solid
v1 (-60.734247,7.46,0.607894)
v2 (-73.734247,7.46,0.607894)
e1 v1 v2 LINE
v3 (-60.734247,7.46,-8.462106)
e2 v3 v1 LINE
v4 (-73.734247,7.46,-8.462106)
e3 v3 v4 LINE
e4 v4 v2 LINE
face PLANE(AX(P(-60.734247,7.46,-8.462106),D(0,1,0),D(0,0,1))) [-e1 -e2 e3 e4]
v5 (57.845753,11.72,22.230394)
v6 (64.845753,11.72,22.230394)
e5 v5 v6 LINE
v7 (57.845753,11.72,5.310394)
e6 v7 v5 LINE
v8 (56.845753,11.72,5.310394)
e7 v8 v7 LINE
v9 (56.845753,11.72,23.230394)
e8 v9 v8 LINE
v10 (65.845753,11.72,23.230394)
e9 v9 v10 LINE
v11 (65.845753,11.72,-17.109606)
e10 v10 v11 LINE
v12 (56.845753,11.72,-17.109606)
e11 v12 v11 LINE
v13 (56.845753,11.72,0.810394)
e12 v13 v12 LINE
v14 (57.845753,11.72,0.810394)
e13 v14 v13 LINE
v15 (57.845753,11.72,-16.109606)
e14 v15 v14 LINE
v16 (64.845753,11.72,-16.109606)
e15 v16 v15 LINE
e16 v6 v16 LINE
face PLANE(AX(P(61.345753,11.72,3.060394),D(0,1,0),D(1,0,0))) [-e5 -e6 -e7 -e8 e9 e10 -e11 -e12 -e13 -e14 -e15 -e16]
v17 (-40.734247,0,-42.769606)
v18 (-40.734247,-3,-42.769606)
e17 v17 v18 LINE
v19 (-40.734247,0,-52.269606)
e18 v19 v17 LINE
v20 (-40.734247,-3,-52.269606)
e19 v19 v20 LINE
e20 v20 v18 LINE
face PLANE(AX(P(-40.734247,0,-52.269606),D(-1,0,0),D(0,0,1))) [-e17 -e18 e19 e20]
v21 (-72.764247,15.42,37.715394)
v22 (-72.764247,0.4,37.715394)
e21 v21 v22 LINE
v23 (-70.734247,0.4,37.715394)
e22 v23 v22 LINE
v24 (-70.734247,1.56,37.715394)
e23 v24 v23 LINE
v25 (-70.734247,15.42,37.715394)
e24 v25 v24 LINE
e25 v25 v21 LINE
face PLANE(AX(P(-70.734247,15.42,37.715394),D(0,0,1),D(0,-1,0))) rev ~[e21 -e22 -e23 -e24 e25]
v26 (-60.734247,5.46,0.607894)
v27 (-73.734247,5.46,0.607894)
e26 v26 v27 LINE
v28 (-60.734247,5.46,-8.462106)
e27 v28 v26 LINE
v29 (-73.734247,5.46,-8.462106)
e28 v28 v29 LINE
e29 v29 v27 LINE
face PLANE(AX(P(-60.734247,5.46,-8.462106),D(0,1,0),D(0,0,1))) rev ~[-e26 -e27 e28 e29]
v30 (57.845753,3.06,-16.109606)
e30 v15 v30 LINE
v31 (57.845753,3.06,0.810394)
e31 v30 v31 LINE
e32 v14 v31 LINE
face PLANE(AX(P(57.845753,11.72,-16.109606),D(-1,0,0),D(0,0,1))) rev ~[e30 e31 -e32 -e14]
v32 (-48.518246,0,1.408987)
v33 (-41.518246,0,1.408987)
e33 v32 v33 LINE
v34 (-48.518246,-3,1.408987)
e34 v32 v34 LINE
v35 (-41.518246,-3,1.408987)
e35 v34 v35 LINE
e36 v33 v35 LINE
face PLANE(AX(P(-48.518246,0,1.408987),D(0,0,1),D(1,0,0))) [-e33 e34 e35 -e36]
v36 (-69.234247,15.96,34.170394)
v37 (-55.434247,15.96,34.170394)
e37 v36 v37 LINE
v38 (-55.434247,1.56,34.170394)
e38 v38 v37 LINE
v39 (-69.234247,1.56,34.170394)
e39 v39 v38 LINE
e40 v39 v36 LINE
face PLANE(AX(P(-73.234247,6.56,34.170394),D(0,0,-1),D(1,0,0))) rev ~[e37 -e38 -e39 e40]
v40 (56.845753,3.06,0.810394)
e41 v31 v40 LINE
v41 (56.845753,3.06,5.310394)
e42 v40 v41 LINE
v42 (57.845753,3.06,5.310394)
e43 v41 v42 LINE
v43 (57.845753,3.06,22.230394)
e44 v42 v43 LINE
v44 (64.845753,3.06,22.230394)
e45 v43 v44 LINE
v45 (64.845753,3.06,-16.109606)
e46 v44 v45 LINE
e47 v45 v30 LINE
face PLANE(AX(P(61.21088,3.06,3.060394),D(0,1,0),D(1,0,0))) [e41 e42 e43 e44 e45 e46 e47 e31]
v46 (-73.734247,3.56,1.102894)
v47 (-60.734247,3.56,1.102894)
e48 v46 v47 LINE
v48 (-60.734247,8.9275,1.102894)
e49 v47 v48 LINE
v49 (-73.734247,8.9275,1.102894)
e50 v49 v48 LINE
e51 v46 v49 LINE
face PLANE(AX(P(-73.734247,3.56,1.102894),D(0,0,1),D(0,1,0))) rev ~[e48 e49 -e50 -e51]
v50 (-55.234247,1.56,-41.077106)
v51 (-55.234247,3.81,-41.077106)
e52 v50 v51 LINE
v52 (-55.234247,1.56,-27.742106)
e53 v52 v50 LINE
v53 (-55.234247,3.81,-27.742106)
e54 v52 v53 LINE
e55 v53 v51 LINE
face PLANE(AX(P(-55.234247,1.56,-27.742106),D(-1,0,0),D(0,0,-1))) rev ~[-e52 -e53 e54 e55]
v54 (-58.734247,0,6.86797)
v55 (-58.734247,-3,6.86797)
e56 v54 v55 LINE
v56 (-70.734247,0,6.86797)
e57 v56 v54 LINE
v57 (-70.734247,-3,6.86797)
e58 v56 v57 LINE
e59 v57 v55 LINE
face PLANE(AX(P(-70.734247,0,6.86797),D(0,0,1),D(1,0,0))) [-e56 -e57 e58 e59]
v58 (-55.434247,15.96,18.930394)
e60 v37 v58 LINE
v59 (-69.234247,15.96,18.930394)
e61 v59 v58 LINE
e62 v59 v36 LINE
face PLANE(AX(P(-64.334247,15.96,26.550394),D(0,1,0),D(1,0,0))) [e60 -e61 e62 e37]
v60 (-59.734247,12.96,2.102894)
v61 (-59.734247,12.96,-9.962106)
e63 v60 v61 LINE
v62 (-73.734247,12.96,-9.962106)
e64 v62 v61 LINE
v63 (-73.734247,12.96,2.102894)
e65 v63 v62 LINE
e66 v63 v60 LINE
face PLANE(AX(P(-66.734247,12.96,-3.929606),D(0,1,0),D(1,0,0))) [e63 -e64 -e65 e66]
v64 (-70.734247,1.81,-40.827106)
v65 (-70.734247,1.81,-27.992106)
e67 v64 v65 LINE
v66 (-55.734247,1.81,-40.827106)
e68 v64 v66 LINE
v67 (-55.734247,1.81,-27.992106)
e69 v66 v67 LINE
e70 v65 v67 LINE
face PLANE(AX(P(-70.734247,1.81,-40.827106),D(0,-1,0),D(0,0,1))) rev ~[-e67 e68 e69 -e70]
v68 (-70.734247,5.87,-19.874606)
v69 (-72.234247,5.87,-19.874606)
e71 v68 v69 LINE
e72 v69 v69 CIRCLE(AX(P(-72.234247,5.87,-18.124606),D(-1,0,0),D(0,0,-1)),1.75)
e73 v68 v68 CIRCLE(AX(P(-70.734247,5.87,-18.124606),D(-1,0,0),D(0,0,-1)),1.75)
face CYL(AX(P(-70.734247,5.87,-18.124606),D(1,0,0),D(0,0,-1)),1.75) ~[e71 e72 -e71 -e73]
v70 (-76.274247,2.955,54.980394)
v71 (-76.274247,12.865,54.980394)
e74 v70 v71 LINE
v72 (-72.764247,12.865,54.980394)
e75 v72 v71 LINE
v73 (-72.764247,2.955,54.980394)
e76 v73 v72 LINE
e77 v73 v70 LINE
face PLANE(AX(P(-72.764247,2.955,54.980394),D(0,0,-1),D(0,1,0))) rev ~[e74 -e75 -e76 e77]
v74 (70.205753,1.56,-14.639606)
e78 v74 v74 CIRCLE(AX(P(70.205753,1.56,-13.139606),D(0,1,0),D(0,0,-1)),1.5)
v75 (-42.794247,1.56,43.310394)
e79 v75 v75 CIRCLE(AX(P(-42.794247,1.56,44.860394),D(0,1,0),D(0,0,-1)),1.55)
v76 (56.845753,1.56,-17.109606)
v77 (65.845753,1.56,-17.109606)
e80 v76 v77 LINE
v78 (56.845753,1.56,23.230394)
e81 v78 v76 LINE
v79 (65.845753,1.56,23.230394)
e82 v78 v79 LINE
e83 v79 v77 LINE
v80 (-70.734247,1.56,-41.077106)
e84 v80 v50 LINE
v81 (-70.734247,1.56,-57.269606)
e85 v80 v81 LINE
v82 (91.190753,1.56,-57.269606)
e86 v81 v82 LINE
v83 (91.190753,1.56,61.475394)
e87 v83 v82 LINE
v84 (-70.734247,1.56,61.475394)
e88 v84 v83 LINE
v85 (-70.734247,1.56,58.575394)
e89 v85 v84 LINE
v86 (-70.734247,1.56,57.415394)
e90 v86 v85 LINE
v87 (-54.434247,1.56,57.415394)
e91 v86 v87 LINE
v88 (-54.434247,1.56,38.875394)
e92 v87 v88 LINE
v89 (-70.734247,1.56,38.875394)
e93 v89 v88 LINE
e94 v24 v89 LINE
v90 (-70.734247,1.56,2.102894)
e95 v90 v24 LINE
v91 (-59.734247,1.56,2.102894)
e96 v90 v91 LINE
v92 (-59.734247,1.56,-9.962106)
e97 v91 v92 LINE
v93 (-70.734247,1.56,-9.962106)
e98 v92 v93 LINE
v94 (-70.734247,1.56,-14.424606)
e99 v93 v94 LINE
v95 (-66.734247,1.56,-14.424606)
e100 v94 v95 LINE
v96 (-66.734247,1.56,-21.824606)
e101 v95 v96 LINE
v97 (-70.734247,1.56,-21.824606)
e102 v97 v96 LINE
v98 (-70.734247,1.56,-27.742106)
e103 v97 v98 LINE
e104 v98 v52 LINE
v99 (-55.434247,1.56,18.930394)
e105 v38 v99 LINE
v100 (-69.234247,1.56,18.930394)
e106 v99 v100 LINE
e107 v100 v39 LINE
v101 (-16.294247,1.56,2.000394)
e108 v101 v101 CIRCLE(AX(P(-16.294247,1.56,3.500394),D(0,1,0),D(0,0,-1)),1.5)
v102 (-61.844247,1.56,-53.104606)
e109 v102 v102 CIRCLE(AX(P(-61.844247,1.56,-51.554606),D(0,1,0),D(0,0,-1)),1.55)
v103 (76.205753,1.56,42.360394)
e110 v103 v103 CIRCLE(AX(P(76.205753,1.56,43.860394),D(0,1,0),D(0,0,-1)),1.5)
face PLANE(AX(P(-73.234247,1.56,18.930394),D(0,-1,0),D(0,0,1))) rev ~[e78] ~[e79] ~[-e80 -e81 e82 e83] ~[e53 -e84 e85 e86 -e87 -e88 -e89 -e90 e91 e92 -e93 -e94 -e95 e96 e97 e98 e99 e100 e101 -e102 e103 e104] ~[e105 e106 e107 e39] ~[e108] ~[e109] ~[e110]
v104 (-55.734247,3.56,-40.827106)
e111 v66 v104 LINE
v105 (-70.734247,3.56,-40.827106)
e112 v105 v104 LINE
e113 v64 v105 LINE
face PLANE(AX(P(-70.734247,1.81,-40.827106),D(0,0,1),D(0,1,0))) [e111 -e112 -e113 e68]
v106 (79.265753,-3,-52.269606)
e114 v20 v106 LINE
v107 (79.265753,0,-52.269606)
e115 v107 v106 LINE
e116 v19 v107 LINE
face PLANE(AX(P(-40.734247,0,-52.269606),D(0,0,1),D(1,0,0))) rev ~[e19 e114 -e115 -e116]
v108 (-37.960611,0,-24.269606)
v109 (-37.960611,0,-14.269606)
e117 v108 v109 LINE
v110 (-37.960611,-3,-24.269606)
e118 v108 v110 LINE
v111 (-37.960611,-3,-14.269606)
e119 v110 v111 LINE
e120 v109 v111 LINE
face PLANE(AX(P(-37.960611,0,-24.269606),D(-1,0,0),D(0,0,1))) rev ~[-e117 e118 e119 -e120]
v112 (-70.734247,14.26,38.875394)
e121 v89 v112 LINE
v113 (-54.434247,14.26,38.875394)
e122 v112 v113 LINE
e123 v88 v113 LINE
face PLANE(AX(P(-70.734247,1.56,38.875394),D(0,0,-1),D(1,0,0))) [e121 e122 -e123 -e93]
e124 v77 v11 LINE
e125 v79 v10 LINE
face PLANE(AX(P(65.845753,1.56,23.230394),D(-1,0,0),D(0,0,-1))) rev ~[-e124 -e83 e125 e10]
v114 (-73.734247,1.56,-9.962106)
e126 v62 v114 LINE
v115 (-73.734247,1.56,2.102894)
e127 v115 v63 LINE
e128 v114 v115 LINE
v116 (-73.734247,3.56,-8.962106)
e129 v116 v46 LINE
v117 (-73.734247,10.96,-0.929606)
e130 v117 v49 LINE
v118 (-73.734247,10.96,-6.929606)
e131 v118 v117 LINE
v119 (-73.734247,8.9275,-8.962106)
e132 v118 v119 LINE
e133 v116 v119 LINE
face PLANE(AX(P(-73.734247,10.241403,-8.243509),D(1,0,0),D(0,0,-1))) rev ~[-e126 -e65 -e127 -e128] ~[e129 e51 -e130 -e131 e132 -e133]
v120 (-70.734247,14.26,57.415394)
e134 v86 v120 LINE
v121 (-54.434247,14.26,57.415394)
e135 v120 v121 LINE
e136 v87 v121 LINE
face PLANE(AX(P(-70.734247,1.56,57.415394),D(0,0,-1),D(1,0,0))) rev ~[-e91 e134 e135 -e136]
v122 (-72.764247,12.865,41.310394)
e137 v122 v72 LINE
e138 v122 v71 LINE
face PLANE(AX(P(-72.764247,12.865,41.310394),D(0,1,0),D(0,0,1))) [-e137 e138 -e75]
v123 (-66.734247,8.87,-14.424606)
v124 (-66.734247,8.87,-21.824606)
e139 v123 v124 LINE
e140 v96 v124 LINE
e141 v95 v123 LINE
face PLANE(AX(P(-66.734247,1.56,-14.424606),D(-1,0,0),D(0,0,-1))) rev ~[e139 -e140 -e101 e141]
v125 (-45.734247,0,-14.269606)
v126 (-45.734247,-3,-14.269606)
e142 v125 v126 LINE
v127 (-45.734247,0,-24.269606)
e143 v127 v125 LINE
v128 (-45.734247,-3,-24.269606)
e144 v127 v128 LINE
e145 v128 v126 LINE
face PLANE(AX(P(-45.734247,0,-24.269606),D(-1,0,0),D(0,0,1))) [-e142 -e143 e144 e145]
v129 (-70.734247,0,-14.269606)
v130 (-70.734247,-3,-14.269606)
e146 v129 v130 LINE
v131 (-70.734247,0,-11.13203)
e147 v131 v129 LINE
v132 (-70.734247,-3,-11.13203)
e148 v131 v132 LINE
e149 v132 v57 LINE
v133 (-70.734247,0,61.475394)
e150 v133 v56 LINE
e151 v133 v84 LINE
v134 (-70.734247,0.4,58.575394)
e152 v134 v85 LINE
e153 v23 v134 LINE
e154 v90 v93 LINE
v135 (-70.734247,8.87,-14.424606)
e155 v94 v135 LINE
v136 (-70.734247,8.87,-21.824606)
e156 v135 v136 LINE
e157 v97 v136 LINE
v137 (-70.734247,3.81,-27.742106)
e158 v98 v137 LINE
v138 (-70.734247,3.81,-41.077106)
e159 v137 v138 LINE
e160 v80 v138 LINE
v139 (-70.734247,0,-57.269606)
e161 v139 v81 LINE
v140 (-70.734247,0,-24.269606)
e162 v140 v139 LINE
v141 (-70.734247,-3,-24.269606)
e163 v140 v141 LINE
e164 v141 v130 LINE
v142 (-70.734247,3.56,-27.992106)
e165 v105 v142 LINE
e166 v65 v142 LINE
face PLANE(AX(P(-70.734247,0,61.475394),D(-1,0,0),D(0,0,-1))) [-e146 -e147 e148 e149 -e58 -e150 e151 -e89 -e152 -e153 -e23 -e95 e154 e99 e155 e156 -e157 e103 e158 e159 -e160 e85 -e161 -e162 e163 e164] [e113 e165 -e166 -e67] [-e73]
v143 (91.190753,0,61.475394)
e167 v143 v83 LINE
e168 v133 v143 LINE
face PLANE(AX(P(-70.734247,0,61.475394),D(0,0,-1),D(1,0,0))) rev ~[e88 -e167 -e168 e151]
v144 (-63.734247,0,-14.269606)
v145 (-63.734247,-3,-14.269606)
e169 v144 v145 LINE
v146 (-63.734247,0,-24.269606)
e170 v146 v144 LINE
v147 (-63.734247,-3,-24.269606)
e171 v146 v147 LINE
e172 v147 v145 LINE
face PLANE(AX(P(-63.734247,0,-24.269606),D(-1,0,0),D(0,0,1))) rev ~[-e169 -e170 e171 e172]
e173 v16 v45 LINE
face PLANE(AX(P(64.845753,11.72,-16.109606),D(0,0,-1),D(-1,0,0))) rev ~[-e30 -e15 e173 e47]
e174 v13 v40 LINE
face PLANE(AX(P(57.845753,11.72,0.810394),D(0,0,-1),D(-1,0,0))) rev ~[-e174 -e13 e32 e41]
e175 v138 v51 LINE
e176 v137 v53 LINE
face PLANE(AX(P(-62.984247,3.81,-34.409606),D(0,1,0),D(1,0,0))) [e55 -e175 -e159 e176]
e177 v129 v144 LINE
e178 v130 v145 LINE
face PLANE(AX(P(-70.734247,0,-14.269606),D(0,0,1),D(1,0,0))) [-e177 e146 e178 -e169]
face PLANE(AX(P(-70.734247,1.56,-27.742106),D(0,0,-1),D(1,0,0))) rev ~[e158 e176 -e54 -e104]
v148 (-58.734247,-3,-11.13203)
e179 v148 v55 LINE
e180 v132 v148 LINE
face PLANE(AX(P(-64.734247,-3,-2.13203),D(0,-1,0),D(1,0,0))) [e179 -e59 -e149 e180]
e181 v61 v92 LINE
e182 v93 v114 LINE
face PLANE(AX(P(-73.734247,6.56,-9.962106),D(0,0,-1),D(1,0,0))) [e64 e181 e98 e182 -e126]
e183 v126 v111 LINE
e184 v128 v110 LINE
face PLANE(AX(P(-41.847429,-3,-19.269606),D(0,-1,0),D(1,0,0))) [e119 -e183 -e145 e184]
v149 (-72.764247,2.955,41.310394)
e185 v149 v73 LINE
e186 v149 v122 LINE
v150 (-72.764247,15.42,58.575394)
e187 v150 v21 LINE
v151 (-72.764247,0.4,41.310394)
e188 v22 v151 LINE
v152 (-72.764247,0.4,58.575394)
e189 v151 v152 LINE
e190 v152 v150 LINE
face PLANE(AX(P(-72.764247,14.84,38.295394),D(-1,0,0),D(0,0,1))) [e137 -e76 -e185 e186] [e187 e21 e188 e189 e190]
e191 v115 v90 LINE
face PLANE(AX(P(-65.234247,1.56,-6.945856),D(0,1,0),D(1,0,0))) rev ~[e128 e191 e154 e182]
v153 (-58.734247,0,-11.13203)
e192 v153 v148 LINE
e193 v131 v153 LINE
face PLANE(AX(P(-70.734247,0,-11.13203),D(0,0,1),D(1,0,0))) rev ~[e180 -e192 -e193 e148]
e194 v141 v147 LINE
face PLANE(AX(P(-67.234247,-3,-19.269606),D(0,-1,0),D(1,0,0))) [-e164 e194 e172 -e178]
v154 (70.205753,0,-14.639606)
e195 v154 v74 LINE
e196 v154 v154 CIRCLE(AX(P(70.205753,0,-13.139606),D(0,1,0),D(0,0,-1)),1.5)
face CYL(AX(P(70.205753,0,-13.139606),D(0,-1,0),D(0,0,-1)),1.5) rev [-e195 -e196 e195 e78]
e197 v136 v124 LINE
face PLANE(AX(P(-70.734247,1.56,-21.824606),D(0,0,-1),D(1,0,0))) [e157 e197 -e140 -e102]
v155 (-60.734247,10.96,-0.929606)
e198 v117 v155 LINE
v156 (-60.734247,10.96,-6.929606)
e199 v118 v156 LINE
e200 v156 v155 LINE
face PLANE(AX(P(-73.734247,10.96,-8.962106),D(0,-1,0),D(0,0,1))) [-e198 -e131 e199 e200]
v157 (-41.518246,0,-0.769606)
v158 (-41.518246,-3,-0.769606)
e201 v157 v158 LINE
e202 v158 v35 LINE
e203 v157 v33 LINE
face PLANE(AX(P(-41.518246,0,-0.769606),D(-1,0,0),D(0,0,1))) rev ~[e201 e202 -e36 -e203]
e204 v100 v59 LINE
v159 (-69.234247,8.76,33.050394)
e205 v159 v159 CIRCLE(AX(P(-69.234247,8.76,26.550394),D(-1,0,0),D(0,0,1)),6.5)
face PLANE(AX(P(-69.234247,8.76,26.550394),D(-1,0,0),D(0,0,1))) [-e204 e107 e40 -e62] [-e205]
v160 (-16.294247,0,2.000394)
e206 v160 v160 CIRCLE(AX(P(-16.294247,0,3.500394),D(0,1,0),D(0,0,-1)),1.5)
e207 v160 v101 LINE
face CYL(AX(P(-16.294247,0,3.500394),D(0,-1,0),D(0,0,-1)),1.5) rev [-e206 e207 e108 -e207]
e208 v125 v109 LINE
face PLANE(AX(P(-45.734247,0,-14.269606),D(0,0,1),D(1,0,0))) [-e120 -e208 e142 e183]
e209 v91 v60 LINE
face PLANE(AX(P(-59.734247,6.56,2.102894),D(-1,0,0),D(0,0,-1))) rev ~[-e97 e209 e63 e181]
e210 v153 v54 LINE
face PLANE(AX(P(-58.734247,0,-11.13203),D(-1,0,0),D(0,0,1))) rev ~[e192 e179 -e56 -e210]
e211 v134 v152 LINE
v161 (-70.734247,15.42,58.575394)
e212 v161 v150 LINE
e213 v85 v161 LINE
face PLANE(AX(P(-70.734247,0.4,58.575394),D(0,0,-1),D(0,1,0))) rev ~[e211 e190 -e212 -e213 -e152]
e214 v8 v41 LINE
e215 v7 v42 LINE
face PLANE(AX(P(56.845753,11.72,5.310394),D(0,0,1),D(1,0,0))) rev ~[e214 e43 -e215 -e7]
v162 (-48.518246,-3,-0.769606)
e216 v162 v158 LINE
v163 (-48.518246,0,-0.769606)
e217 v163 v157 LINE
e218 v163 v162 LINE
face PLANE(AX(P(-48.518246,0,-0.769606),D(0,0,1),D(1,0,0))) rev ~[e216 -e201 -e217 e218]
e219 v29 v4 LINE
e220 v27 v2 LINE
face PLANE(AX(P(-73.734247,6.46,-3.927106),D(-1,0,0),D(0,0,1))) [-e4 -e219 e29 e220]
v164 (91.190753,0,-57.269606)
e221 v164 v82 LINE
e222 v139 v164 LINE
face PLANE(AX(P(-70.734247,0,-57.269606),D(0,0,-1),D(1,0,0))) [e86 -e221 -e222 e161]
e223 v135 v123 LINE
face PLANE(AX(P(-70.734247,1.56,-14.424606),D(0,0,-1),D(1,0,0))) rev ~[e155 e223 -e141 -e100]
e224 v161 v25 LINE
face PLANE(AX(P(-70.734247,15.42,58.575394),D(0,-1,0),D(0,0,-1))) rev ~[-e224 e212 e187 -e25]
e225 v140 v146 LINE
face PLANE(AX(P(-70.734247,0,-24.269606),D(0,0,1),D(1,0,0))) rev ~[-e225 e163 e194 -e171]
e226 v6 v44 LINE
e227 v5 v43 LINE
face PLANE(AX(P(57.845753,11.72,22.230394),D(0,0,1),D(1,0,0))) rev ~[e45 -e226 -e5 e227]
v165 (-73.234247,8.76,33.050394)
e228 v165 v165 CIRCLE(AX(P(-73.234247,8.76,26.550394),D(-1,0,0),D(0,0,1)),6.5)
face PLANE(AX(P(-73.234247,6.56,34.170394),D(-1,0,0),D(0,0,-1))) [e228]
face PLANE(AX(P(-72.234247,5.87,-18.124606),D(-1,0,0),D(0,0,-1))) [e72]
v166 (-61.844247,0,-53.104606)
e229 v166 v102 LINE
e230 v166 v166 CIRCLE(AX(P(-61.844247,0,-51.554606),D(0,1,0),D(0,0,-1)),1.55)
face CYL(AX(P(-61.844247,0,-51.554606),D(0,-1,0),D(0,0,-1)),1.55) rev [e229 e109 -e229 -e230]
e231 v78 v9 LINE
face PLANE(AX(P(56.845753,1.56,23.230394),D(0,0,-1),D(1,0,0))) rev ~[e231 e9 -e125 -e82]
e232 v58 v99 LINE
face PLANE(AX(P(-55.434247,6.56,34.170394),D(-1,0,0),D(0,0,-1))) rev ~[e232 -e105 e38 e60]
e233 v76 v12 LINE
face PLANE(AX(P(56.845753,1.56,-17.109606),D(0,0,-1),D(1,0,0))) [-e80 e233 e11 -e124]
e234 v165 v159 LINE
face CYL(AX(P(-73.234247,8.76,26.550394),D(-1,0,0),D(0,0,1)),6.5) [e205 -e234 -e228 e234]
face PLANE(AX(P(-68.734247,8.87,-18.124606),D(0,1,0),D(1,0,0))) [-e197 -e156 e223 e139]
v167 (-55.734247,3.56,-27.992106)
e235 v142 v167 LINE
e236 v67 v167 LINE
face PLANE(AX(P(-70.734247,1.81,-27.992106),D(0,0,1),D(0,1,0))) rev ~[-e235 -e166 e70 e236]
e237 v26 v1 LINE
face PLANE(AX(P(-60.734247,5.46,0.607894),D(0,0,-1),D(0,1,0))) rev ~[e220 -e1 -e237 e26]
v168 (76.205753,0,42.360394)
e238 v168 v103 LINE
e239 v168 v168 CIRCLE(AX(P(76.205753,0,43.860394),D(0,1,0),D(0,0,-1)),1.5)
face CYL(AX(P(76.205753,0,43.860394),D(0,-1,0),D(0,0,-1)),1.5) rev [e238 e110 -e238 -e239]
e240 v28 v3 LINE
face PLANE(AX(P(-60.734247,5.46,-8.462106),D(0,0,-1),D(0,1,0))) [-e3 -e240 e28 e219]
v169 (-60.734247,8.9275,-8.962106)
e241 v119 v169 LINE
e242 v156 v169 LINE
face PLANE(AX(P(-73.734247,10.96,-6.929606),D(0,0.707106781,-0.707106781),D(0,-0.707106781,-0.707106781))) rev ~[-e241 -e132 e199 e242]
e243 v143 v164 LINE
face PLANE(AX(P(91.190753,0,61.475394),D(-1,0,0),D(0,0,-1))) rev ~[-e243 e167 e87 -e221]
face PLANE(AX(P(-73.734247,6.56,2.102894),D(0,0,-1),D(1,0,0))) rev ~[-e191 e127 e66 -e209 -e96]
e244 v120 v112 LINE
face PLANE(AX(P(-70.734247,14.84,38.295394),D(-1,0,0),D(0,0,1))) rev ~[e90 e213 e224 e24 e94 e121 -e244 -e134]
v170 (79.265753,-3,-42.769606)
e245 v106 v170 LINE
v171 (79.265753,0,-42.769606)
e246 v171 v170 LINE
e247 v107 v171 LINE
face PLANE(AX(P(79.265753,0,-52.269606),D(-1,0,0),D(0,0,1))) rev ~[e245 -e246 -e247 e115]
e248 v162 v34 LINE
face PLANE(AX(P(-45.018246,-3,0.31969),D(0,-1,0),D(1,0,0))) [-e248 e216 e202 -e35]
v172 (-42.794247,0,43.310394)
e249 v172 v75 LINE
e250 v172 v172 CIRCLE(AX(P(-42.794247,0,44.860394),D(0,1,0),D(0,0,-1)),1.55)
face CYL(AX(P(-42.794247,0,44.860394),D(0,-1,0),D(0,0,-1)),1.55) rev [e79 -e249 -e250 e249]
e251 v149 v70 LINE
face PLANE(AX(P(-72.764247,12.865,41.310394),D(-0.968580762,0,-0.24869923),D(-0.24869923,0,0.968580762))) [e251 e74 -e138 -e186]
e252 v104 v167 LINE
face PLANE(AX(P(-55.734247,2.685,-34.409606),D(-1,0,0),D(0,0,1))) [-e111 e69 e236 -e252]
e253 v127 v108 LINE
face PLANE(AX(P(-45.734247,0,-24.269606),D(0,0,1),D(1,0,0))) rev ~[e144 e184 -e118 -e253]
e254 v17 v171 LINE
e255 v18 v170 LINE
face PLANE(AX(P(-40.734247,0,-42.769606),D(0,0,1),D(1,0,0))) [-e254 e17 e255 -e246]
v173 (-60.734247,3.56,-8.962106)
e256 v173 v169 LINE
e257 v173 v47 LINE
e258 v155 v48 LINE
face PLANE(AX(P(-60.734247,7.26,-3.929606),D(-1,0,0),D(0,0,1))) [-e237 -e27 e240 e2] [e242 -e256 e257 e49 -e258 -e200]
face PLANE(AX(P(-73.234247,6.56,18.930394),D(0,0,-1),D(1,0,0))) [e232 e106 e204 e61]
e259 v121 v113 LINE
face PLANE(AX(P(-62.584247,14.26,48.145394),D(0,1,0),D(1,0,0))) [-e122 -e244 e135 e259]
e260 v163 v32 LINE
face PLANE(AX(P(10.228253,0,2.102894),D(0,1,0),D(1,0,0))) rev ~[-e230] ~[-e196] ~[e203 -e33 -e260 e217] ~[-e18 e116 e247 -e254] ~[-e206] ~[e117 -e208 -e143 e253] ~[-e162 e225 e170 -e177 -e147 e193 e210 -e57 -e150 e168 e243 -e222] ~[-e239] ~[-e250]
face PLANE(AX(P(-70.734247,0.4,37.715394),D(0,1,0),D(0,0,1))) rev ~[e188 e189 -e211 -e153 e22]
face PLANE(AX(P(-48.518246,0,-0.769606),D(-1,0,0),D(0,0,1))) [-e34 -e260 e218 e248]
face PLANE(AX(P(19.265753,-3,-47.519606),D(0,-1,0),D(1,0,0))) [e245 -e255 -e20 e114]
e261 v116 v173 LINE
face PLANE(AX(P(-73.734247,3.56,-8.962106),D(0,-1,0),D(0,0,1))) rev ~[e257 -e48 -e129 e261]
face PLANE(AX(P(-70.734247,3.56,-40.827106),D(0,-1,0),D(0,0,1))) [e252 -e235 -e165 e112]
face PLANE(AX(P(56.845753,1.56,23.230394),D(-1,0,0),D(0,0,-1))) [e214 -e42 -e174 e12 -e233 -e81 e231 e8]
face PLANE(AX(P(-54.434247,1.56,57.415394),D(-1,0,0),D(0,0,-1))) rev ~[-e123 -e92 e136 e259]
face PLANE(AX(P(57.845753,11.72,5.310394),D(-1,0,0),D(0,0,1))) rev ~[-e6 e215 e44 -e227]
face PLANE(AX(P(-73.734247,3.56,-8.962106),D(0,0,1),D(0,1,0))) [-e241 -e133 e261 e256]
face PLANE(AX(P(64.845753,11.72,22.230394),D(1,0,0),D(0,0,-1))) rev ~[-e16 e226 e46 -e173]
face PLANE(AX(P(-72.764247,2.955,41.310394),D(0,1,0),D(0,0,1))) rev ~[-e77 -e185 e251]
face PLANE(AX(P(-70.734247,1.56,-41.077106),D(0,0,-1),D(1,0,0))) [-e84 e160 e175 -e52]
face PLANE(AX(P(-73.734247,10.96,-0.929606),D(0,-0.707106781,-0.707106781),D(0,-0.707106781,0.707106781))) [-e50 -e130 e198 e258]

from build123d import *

# Parameters (mm, degrees)
SKETCH1_W            = 161.925
SKETCH1_H            = 118.745
SKETCH1_R            = 1.55
SKETCH1_R_2          = 1.5
BOSS_EXTRUDE1_DEPTH  = 1.56
SKETCH2_W            = 20
SKETCH2_H            = 10.4775
SKETCH2_W_2          = 15.3
SKETCH2_H_2          = 7.62
SKETCH2_W_3          = 11
SKETCH2_H_3          = 6.0325
SKETCH2_W_4          = 15.5
SKETCH2_H_4          = 6.6675
BOSS_EXTRUDE2_DEPTH  = 5
SKETCH4_W            = 17.8
SKETCH4_H            = 15.24
BOSS_EXTRUDE3_DEPTH  = 9.4
SKETCH5_W            = 15.24
SKETCH5_H            = 14.4
SKETCH5_R            = 6.5
CUT_EXTRUDE1_DEPTH   = 4
SKETCH7_W            = 15.5
SKETCH7_H            = 13.335
CUT_EXTRUDE3_DEPTH   = 2.75
SKETCH8_W            = 12.835
SKETCH8_H            = 1.75
CUT_EXTRUDE4_DEPTH   = 15
SKETCH9_W            = 14
SKETCH9_H            = 12.065
BOSS_EXTRUDE4_DEPTH  = 6.4
SKETCH10_W           = 10.065
SKETCH10_H           = 7.4
CUT_EXTRUDE5_DEPTH   = 13
SKETCH11_W           = 9.07
SKETCH11_H           = 2
BOSS_EXTRUDE5_DEPTH  = 13
BOSS_EXTRUDE6_DEPTH  = 5
BOSS_EXTRUDE8_DEPTH  = 4
SKETCH38_W           = 31.093633867
SKETCH38_H           = 25.604360888
CUT_EXTRUDE14_DEPTH  = 10
SKETCH39_W           = 16.3
SKETCH39_H           = 18.54
BOSS_EXTRUDE9_DEPTH  = 12.7
SKETCH40_W           = 1.16
SKETCH40_H           = 1.16
SKETCH40_H_2         = 12.7
BOSS_EXTRUDE10_DEPTH = 2.03
SKETCH41_W           = 13.67
SKETCH41_H           = 9.91
BOSS_EXTRUDE11_DEPTH = 3.51
CUT_EXTRUDE15_DEPTH  = 111.727077745
SKETCH43_W           = 9
SKETCH43_H           = 40.34
BOSS_EXTRUDE12_DEPTH = 10.16
CUT_EXTRUDE16_DEPTH  = 8.66
SKETCH46_W           = 120
SKETCH46_H           = 9.5
SKETCH46_W_2         = 7
SKETCH46_H_2         = 10
SKETCH46_W_3         = 7.773635701
SKETCH46_W_4         = 12
SKETCH46_H_3         = 18
SKETCH46_H_4         = 2.178592617
BOSS_EXTRUDE14_DEPTH = 3
BOSS_EXTRUDE15_DEPTH = 13
SKETCH49_W           = 4
SKETCH49_H           = 7.4
BOSS_EXTRUDE16_DEPTH = 7.31
SKETCH50_R           = 1.75
BOSS_EXTRUDE17_DEPTH = 1.5


with BuildPart() as part:
    # Sketch1 → Boss-Extrude1 (new body)
    with BuildSketch(Plane(origin=(0, 0, 0), x_dir=(1, 0, 0), z_dir=(0, 1, 0))):
        with Locations((10.228253106, -2.102894012)):
            Rectangle(SKETCH1_W, SKETCH1_H)
        with Locations(Location((-42.794246894, -44.860394012, 0), (0, 0, 90))):
            Circle(SKETCH1_R, mode=Mode.SUBTRACT)
        with Locations(Location((-61.844246894, 51.554605988, 0), (0, 0, 90))):
            Circle(SKETCH1_R, mode=Mode.SUBTRACT)
        with Locations(Location((70.205753106, 13.139605988, 0), (0, 0, 90))):
            Circle(SKETCH1_R_2, mode=Mode.SUBTRACT)
        with Locations(Location((-16.294246894, -3.500394012, 0), (0, 0, 90))):
            Circle(SKETCH1_R_2, mode=Mode.SUBTRACT)
        with Locations(Location((76.205753106, -43.860394012, 0), (0, 0, 90))):
            Circle(SKETCH1_R_2, mode=Mode.SUBTRACT)
    extrude(amount=BOSS_EXTRUDE1_DEPTH)

    # Sketch2 → Boss-Extrude2 (add)
    with BuildSketch(Plane(origin=(0, 1.56, 0), x_dir=(1, 0, 0), z_dir=(0, 1, 0))):
        with Locations((-60.734246894, -42.901644012)):
            Rectangle(SKETCH2_W, SKETCH2_H)
        with Locations((-60.734246894, -53.379144012)):
            Rectangle(SKETCH2_W, SKETCH2_H)
        with Locations((-63.084246894, -30.360394012)):
            Rectangle(SKETCH2_W_2, SKETCH2_H_2)
        with Locations((-63.084246894, -22.740394012)):
            Rectangle(SKETCH2_W_2, SKETCH2_H_2)
        Polygon((-70.734246894, -34.170394012), (-70.734246894, -26.550394012), (-70.734246894, -18.930394012), (-73.234246894, -18.930394012), (-73.234246894, -34.170394012), align=None)
        with Locations((-65.234246894, 6.945855988)):
            Rectangle(SKETCH2_W_3, SKETCH2_H_3)
        Polygon((-70.734246894, -2.102894012), (-70.734246894, 3.929605988), (-70.734246894, 9.962105988), (-73.734246894, 9.962105988), (-73.734246894, -2.102894012), align=None)
        with Locations((-65.234246894, 0.913355988)):
            Rectangle(SKETCH2_W_3, SKETCH2_H_3)
        with Locations((-62.984246894, 37.743355988)):
            Rectangle(SKETCH2_W_4, SKETCH2_H_4)
        with Locations((-62.984246894, 31.075855988)):
            Rectangle(SKETCH2_W_4, SKETCH2_H_4)
    extrude(amount=BOSS_EXTRUDE2_DEPTH)

    # Sketch4 → Boss-Extrude3 (add)
    with BuildSketch(Plane(origin=(0, 6.56, 0), x_dir=(1, 0, 0), z_dir=(0, 1, 0))):
        with Locations((-64.334246894, -26.550394012)):
            Rectangle(SKETCH4_W, SKETCH4_H)
    extrude(amount=BOSS_EXTRUDE3_DEPTH)

    # Sketch5 → Cut-Extrude1 (cut)
    with BuildSketch(Plane.ZY.offset(73.234246894)):
        with Locations((26.550394012, 8.76)):
            Rectangle(SKETCH5_W, SKETCH5_H)
        with Locations((26.550394012, 8.76)):
            Circle(SKETCH5_R, mode=Mode.SUBTRACT)
    extrude(amount=-CUT_EXTRUDE1_DEPTH, mode=Mode.SUBTRACT)

    # Sketch7 → Cut-Extrude3 (cut)
    with BuildSketch(Plane(origin=(0, 6.56, 0), x_dir=(1, 0, 0), z_dir=(0, 1, 0))):
        with Locations((-62.984246894, 34.409605988)):
            Rectangle(SKETCH7_W, SKETCH7_H)
    extrude(amount=-CUT_EXTRUDE3_DEPTH, mode=Mode.SUBTRACT)

    # Sketch8 → Cut-Extrude4 (cut)
    with BuildSketch(Plane.ZY.offset(70.734246894)):
        with Locations((-34.409605988, 2.685)):
            Rectangle(SKETCH8_W, SKETCH8_H)
    extrude(amount=-CUT_EXTRUDE4_DEPTH, mode=Mode.SUBTRACT)

    # Sketch9 → Boss-Extrude4 (add)
    with BuildSketch(Plane(origin=(0, 6.56, 0), x_dir=(1, 0, 0), z_dir=(0, 1, 0))):
        with Locations((-66.734246894, 3.929605988)):
            Rectangle(SKETCH9_W, SKETCH9_H)
    extrude(amount=BOSS_EXTRUDE4_DEPTH)

    # Sketch10 → Cut-Extrude5 (cut)
    with BuildSketch(Plane.ZY.offset(73.734246894)):
        with Locations((-3.929605988, 7.26)):
            Rectangle(SKETCH10_W, SKETCH10_H)
    extrude(amount=-CUT_EXTRUDE5_DEPTH, mode=Mode.SUBTRACT)

    # Sketch11 → Boss-Extrude5 (add)
    with BuildSketch(Plane.ZY.offset(60.734246894)):
        with Locations((-3.927105988, 6.46)):
            Rectangle(SKETCH11_W, SKETCH11_H)
    extrude(amount=BOSS_EXTRUDE5_DEPTH)

    # Sketch12 → Boss-Extrude6 (add)
    with BuildSketch(Plane(origin=(0, 6.56, 0), x_dir=(1, 0, 0), z_dir=(0, 1, 0))):
        Polygon((-70.734246894, -58.617894012), (-71.734246894, -58.617894012), (-71.734246894, -60.117894012), (-73.734246894, -60.117894012), (-73.806970959, -36.162894012), (-71.734246894, -36.162894012), (-71.734246894, -37.662894012), (-70.734246894, -37.662894012), align=None)
    extrude(amount=-BOSS_EXTRUDE6_DEPTH)

    # Sketch13 → Boss-Extrude8 (add)
    with BuildSketch(Plane(origin=(0, 6.56, 0), x_dir=(1, 0, 0), z_dir=(0, 1, 0))):
        Polygon((-50.734246894, -37.662894012), (-50.734246894, -58.617894012), (-71.734246894, -58.617894012), (-71.734246894, -60.117894012), (-73.734246894, -60.117894012), (-73.806970959, -36.162894012), (-71.734246894, -36.162894012), (-71.734246894, -37.662894012), align=None)
    extrude(amount=BOSS_EXTRUDE8_DEPTH)

    # Sketch38 → Cut-Extrude14 (cut)
    with BuildSketch(Plane(origin=(0, 1.56, 0), x_dir=(1, 0, 0), z_dir=(0, 1, 0))):
        with Locations((-64.389815501, -47.792725567)):
            Rectangle(SKETCH38_W, SKETCH38_H)
    extrude(amount=CUT_EXTRUDE14_DEPTH, mode=Mode.SUBTRACT)

    # Sketch39 → Boss-Extrude9 (add)
    with BuildSketch(Plane(origin=(0, 1.56, 0), x_dir=(1, 0, 0), z_dir=(0, 1, 0))):
        with Locations((-62.584246894, -48.145394012)):
            Rectangle(SKETCH39_W, SKETCH39_H)
    extrude(amount=BOSS_EXTRUDE9_DEPTH)

    # Sketch40 → Boss-Extrude10 (add)
    with BuildSketch(Plane.ZY.offset(70.734246894)):
        with Locations((38.295394012, 14.84)):
            Rectangle(SKETCH40_W, SKETCH40_H)
        Polygon((38.875394012, 15.42), (38.875394012, 14.26), (57.415394012, 14.26), (57.415394012, 1.56), (58.575394012, 1.56), (58.575394012, 15.42), align=None)
        with Locations((38.295394012, 7.91)):
            Rectangle(SKETCH40_W, SKETCH40_H_2)
        Polygon((57.415394012, 14.26), (38.875394012, 14.26), (38.875394012, 1.56), (37.715394012, 1.56), (37.715394012, 0.4), (57.415394012, 0.4), (57.415394012, 1.56), align=None)
        with Locations((57.995394012, 0.98)):
            Rectangle(SKETCH40_W, SKETCH40_H)
    extrude(amount=BOSS_EXTRUDE10_DEPTH)

    # Sketch41 → Boss-Extrude11 (add)
    with BuildSketch(Plane.ZY.offset(72.764246894)):
        with Locations((48.145394012, 7.91)):
            Rectangle(SKETCH41_W, SKETCH41_H)
    extrude(amount=BOSS_EXTRUDE11_DEPTH)

    # Sketch42 → Cut-Extrude15 (cut, through all)
    with BuildSketch(Plane(origin=(0, 12.865, 0), x_dir=(1, 0, 0), z_dir=(0, 1, 0))):
        Polygon((-72.764246894, -41.310394012), (-76.274246894, -54.980394012), (-76.274246894, -41.310394012), align=None)
    extrude(amount=-CUT_EXTRUDE15_DEPTH, mode=Mode.SUBTRACT)

    # Sketch43 → Boss-Extrude12 (add)
    with BuildSketch(Plane(origin=(0, 1.56, 0), x_dir=(1, 0, 0), z_dir=(0, 1, 0))):
        with Locations((61.345753106, -3.060394012)):
            Rectangle(SKETCH43_W, SKETCH43_H)
    extrude(amount=BOSS_EXTRUDE12_DEPTH)

    # Sketch44 → Cut-Extrude16 (cut)
    with BuildSketch(Plane(origin=(0, 11.72, 0), x_dir=(1, 0, 0), z_dir=(0, 1, 0))):
        Polygon((57.845753106, -0.810394012), (56.845753106, -0.810394012), (56.845753106, -5.310394012), (57.845753106, -5.310394012), (57.845753106, -22.230394012), (64.845753106, -22.230394012), (64.845753106, 16.109605988), (57.845753106, 16.109605988), align=None)
    extrude(amount=-CUT_EXTRUDE16_DEPTH, mode=Mode.SUBTRACT)

    # Sketch46 → Boss-Extrude14 (add)
    with BuildSketch(Plane.XZ):
        with Locations((19.265753106, -47.519605988)):
            Rectangle(SKETCH46_W, SKETCH46_H)
        with Locations((-67.234246894, -19.269605988)):
            Rectangle(SKETCH46_W_2, SKETCH46_H_2)
        with Locations((-41.847429044, -19.269605988)):
            Rectangle(SKETCH46_W_3, SKETCH46_H_2)
        with Locations((-64.734246894, -2.132030476)):
            Rectangle(SKETCH46_W_4, SKETCH46_H_3)
        with Locations((-45.018245774, 0.319690321)):
            Rectangle(SKETCH46_W_2, SKETCH46_H_4)
    extrude(amount=BOSS_EXTRUDE14_DEPTH)

    # Sketch47 → Boss-Extrude15 (add)
    with BuildSketch(Plane.ZY.offset(73.734246894)):
        Polygon((-6.929605988, 10.96), (-8.962105988, 8.9275), (-8.962105988, 10.96), align=None)
        Polygon((-0.929605988, 10.96), (1.102894012, 8.9275), (1.102894012, 10.96), align=None)
    extrude(amount=-BOSS_EXTRUDE15_DEPTH)

    # Sketch49 → Boss-Extrude16 (add)
    with BuildSketch(Plane(origin=(0, 1.56, 0), x_dir=(1, 0, 0), z_dir=(0, 1, 0))):
        with Locations((-68.734246894, 18.124605988)):
            Rectangle(SKETCH49_W, SKETCH49_H)
    extrude(amount=BOSS_EXTRUDE16_DEPTH)

    # Sketch50 → Boss-Extrude17 (add)
    with BuildSketch(Plane.ZY.offset(70.734246894)):
        with Locations(Location((-18.124605988, 5.87, 0), (0, 0, 180))):
            Circle(SKETCH50_R)
    extrude(amount=BOSS_EXTRUDE17_DEPTH)


solid = part.part
